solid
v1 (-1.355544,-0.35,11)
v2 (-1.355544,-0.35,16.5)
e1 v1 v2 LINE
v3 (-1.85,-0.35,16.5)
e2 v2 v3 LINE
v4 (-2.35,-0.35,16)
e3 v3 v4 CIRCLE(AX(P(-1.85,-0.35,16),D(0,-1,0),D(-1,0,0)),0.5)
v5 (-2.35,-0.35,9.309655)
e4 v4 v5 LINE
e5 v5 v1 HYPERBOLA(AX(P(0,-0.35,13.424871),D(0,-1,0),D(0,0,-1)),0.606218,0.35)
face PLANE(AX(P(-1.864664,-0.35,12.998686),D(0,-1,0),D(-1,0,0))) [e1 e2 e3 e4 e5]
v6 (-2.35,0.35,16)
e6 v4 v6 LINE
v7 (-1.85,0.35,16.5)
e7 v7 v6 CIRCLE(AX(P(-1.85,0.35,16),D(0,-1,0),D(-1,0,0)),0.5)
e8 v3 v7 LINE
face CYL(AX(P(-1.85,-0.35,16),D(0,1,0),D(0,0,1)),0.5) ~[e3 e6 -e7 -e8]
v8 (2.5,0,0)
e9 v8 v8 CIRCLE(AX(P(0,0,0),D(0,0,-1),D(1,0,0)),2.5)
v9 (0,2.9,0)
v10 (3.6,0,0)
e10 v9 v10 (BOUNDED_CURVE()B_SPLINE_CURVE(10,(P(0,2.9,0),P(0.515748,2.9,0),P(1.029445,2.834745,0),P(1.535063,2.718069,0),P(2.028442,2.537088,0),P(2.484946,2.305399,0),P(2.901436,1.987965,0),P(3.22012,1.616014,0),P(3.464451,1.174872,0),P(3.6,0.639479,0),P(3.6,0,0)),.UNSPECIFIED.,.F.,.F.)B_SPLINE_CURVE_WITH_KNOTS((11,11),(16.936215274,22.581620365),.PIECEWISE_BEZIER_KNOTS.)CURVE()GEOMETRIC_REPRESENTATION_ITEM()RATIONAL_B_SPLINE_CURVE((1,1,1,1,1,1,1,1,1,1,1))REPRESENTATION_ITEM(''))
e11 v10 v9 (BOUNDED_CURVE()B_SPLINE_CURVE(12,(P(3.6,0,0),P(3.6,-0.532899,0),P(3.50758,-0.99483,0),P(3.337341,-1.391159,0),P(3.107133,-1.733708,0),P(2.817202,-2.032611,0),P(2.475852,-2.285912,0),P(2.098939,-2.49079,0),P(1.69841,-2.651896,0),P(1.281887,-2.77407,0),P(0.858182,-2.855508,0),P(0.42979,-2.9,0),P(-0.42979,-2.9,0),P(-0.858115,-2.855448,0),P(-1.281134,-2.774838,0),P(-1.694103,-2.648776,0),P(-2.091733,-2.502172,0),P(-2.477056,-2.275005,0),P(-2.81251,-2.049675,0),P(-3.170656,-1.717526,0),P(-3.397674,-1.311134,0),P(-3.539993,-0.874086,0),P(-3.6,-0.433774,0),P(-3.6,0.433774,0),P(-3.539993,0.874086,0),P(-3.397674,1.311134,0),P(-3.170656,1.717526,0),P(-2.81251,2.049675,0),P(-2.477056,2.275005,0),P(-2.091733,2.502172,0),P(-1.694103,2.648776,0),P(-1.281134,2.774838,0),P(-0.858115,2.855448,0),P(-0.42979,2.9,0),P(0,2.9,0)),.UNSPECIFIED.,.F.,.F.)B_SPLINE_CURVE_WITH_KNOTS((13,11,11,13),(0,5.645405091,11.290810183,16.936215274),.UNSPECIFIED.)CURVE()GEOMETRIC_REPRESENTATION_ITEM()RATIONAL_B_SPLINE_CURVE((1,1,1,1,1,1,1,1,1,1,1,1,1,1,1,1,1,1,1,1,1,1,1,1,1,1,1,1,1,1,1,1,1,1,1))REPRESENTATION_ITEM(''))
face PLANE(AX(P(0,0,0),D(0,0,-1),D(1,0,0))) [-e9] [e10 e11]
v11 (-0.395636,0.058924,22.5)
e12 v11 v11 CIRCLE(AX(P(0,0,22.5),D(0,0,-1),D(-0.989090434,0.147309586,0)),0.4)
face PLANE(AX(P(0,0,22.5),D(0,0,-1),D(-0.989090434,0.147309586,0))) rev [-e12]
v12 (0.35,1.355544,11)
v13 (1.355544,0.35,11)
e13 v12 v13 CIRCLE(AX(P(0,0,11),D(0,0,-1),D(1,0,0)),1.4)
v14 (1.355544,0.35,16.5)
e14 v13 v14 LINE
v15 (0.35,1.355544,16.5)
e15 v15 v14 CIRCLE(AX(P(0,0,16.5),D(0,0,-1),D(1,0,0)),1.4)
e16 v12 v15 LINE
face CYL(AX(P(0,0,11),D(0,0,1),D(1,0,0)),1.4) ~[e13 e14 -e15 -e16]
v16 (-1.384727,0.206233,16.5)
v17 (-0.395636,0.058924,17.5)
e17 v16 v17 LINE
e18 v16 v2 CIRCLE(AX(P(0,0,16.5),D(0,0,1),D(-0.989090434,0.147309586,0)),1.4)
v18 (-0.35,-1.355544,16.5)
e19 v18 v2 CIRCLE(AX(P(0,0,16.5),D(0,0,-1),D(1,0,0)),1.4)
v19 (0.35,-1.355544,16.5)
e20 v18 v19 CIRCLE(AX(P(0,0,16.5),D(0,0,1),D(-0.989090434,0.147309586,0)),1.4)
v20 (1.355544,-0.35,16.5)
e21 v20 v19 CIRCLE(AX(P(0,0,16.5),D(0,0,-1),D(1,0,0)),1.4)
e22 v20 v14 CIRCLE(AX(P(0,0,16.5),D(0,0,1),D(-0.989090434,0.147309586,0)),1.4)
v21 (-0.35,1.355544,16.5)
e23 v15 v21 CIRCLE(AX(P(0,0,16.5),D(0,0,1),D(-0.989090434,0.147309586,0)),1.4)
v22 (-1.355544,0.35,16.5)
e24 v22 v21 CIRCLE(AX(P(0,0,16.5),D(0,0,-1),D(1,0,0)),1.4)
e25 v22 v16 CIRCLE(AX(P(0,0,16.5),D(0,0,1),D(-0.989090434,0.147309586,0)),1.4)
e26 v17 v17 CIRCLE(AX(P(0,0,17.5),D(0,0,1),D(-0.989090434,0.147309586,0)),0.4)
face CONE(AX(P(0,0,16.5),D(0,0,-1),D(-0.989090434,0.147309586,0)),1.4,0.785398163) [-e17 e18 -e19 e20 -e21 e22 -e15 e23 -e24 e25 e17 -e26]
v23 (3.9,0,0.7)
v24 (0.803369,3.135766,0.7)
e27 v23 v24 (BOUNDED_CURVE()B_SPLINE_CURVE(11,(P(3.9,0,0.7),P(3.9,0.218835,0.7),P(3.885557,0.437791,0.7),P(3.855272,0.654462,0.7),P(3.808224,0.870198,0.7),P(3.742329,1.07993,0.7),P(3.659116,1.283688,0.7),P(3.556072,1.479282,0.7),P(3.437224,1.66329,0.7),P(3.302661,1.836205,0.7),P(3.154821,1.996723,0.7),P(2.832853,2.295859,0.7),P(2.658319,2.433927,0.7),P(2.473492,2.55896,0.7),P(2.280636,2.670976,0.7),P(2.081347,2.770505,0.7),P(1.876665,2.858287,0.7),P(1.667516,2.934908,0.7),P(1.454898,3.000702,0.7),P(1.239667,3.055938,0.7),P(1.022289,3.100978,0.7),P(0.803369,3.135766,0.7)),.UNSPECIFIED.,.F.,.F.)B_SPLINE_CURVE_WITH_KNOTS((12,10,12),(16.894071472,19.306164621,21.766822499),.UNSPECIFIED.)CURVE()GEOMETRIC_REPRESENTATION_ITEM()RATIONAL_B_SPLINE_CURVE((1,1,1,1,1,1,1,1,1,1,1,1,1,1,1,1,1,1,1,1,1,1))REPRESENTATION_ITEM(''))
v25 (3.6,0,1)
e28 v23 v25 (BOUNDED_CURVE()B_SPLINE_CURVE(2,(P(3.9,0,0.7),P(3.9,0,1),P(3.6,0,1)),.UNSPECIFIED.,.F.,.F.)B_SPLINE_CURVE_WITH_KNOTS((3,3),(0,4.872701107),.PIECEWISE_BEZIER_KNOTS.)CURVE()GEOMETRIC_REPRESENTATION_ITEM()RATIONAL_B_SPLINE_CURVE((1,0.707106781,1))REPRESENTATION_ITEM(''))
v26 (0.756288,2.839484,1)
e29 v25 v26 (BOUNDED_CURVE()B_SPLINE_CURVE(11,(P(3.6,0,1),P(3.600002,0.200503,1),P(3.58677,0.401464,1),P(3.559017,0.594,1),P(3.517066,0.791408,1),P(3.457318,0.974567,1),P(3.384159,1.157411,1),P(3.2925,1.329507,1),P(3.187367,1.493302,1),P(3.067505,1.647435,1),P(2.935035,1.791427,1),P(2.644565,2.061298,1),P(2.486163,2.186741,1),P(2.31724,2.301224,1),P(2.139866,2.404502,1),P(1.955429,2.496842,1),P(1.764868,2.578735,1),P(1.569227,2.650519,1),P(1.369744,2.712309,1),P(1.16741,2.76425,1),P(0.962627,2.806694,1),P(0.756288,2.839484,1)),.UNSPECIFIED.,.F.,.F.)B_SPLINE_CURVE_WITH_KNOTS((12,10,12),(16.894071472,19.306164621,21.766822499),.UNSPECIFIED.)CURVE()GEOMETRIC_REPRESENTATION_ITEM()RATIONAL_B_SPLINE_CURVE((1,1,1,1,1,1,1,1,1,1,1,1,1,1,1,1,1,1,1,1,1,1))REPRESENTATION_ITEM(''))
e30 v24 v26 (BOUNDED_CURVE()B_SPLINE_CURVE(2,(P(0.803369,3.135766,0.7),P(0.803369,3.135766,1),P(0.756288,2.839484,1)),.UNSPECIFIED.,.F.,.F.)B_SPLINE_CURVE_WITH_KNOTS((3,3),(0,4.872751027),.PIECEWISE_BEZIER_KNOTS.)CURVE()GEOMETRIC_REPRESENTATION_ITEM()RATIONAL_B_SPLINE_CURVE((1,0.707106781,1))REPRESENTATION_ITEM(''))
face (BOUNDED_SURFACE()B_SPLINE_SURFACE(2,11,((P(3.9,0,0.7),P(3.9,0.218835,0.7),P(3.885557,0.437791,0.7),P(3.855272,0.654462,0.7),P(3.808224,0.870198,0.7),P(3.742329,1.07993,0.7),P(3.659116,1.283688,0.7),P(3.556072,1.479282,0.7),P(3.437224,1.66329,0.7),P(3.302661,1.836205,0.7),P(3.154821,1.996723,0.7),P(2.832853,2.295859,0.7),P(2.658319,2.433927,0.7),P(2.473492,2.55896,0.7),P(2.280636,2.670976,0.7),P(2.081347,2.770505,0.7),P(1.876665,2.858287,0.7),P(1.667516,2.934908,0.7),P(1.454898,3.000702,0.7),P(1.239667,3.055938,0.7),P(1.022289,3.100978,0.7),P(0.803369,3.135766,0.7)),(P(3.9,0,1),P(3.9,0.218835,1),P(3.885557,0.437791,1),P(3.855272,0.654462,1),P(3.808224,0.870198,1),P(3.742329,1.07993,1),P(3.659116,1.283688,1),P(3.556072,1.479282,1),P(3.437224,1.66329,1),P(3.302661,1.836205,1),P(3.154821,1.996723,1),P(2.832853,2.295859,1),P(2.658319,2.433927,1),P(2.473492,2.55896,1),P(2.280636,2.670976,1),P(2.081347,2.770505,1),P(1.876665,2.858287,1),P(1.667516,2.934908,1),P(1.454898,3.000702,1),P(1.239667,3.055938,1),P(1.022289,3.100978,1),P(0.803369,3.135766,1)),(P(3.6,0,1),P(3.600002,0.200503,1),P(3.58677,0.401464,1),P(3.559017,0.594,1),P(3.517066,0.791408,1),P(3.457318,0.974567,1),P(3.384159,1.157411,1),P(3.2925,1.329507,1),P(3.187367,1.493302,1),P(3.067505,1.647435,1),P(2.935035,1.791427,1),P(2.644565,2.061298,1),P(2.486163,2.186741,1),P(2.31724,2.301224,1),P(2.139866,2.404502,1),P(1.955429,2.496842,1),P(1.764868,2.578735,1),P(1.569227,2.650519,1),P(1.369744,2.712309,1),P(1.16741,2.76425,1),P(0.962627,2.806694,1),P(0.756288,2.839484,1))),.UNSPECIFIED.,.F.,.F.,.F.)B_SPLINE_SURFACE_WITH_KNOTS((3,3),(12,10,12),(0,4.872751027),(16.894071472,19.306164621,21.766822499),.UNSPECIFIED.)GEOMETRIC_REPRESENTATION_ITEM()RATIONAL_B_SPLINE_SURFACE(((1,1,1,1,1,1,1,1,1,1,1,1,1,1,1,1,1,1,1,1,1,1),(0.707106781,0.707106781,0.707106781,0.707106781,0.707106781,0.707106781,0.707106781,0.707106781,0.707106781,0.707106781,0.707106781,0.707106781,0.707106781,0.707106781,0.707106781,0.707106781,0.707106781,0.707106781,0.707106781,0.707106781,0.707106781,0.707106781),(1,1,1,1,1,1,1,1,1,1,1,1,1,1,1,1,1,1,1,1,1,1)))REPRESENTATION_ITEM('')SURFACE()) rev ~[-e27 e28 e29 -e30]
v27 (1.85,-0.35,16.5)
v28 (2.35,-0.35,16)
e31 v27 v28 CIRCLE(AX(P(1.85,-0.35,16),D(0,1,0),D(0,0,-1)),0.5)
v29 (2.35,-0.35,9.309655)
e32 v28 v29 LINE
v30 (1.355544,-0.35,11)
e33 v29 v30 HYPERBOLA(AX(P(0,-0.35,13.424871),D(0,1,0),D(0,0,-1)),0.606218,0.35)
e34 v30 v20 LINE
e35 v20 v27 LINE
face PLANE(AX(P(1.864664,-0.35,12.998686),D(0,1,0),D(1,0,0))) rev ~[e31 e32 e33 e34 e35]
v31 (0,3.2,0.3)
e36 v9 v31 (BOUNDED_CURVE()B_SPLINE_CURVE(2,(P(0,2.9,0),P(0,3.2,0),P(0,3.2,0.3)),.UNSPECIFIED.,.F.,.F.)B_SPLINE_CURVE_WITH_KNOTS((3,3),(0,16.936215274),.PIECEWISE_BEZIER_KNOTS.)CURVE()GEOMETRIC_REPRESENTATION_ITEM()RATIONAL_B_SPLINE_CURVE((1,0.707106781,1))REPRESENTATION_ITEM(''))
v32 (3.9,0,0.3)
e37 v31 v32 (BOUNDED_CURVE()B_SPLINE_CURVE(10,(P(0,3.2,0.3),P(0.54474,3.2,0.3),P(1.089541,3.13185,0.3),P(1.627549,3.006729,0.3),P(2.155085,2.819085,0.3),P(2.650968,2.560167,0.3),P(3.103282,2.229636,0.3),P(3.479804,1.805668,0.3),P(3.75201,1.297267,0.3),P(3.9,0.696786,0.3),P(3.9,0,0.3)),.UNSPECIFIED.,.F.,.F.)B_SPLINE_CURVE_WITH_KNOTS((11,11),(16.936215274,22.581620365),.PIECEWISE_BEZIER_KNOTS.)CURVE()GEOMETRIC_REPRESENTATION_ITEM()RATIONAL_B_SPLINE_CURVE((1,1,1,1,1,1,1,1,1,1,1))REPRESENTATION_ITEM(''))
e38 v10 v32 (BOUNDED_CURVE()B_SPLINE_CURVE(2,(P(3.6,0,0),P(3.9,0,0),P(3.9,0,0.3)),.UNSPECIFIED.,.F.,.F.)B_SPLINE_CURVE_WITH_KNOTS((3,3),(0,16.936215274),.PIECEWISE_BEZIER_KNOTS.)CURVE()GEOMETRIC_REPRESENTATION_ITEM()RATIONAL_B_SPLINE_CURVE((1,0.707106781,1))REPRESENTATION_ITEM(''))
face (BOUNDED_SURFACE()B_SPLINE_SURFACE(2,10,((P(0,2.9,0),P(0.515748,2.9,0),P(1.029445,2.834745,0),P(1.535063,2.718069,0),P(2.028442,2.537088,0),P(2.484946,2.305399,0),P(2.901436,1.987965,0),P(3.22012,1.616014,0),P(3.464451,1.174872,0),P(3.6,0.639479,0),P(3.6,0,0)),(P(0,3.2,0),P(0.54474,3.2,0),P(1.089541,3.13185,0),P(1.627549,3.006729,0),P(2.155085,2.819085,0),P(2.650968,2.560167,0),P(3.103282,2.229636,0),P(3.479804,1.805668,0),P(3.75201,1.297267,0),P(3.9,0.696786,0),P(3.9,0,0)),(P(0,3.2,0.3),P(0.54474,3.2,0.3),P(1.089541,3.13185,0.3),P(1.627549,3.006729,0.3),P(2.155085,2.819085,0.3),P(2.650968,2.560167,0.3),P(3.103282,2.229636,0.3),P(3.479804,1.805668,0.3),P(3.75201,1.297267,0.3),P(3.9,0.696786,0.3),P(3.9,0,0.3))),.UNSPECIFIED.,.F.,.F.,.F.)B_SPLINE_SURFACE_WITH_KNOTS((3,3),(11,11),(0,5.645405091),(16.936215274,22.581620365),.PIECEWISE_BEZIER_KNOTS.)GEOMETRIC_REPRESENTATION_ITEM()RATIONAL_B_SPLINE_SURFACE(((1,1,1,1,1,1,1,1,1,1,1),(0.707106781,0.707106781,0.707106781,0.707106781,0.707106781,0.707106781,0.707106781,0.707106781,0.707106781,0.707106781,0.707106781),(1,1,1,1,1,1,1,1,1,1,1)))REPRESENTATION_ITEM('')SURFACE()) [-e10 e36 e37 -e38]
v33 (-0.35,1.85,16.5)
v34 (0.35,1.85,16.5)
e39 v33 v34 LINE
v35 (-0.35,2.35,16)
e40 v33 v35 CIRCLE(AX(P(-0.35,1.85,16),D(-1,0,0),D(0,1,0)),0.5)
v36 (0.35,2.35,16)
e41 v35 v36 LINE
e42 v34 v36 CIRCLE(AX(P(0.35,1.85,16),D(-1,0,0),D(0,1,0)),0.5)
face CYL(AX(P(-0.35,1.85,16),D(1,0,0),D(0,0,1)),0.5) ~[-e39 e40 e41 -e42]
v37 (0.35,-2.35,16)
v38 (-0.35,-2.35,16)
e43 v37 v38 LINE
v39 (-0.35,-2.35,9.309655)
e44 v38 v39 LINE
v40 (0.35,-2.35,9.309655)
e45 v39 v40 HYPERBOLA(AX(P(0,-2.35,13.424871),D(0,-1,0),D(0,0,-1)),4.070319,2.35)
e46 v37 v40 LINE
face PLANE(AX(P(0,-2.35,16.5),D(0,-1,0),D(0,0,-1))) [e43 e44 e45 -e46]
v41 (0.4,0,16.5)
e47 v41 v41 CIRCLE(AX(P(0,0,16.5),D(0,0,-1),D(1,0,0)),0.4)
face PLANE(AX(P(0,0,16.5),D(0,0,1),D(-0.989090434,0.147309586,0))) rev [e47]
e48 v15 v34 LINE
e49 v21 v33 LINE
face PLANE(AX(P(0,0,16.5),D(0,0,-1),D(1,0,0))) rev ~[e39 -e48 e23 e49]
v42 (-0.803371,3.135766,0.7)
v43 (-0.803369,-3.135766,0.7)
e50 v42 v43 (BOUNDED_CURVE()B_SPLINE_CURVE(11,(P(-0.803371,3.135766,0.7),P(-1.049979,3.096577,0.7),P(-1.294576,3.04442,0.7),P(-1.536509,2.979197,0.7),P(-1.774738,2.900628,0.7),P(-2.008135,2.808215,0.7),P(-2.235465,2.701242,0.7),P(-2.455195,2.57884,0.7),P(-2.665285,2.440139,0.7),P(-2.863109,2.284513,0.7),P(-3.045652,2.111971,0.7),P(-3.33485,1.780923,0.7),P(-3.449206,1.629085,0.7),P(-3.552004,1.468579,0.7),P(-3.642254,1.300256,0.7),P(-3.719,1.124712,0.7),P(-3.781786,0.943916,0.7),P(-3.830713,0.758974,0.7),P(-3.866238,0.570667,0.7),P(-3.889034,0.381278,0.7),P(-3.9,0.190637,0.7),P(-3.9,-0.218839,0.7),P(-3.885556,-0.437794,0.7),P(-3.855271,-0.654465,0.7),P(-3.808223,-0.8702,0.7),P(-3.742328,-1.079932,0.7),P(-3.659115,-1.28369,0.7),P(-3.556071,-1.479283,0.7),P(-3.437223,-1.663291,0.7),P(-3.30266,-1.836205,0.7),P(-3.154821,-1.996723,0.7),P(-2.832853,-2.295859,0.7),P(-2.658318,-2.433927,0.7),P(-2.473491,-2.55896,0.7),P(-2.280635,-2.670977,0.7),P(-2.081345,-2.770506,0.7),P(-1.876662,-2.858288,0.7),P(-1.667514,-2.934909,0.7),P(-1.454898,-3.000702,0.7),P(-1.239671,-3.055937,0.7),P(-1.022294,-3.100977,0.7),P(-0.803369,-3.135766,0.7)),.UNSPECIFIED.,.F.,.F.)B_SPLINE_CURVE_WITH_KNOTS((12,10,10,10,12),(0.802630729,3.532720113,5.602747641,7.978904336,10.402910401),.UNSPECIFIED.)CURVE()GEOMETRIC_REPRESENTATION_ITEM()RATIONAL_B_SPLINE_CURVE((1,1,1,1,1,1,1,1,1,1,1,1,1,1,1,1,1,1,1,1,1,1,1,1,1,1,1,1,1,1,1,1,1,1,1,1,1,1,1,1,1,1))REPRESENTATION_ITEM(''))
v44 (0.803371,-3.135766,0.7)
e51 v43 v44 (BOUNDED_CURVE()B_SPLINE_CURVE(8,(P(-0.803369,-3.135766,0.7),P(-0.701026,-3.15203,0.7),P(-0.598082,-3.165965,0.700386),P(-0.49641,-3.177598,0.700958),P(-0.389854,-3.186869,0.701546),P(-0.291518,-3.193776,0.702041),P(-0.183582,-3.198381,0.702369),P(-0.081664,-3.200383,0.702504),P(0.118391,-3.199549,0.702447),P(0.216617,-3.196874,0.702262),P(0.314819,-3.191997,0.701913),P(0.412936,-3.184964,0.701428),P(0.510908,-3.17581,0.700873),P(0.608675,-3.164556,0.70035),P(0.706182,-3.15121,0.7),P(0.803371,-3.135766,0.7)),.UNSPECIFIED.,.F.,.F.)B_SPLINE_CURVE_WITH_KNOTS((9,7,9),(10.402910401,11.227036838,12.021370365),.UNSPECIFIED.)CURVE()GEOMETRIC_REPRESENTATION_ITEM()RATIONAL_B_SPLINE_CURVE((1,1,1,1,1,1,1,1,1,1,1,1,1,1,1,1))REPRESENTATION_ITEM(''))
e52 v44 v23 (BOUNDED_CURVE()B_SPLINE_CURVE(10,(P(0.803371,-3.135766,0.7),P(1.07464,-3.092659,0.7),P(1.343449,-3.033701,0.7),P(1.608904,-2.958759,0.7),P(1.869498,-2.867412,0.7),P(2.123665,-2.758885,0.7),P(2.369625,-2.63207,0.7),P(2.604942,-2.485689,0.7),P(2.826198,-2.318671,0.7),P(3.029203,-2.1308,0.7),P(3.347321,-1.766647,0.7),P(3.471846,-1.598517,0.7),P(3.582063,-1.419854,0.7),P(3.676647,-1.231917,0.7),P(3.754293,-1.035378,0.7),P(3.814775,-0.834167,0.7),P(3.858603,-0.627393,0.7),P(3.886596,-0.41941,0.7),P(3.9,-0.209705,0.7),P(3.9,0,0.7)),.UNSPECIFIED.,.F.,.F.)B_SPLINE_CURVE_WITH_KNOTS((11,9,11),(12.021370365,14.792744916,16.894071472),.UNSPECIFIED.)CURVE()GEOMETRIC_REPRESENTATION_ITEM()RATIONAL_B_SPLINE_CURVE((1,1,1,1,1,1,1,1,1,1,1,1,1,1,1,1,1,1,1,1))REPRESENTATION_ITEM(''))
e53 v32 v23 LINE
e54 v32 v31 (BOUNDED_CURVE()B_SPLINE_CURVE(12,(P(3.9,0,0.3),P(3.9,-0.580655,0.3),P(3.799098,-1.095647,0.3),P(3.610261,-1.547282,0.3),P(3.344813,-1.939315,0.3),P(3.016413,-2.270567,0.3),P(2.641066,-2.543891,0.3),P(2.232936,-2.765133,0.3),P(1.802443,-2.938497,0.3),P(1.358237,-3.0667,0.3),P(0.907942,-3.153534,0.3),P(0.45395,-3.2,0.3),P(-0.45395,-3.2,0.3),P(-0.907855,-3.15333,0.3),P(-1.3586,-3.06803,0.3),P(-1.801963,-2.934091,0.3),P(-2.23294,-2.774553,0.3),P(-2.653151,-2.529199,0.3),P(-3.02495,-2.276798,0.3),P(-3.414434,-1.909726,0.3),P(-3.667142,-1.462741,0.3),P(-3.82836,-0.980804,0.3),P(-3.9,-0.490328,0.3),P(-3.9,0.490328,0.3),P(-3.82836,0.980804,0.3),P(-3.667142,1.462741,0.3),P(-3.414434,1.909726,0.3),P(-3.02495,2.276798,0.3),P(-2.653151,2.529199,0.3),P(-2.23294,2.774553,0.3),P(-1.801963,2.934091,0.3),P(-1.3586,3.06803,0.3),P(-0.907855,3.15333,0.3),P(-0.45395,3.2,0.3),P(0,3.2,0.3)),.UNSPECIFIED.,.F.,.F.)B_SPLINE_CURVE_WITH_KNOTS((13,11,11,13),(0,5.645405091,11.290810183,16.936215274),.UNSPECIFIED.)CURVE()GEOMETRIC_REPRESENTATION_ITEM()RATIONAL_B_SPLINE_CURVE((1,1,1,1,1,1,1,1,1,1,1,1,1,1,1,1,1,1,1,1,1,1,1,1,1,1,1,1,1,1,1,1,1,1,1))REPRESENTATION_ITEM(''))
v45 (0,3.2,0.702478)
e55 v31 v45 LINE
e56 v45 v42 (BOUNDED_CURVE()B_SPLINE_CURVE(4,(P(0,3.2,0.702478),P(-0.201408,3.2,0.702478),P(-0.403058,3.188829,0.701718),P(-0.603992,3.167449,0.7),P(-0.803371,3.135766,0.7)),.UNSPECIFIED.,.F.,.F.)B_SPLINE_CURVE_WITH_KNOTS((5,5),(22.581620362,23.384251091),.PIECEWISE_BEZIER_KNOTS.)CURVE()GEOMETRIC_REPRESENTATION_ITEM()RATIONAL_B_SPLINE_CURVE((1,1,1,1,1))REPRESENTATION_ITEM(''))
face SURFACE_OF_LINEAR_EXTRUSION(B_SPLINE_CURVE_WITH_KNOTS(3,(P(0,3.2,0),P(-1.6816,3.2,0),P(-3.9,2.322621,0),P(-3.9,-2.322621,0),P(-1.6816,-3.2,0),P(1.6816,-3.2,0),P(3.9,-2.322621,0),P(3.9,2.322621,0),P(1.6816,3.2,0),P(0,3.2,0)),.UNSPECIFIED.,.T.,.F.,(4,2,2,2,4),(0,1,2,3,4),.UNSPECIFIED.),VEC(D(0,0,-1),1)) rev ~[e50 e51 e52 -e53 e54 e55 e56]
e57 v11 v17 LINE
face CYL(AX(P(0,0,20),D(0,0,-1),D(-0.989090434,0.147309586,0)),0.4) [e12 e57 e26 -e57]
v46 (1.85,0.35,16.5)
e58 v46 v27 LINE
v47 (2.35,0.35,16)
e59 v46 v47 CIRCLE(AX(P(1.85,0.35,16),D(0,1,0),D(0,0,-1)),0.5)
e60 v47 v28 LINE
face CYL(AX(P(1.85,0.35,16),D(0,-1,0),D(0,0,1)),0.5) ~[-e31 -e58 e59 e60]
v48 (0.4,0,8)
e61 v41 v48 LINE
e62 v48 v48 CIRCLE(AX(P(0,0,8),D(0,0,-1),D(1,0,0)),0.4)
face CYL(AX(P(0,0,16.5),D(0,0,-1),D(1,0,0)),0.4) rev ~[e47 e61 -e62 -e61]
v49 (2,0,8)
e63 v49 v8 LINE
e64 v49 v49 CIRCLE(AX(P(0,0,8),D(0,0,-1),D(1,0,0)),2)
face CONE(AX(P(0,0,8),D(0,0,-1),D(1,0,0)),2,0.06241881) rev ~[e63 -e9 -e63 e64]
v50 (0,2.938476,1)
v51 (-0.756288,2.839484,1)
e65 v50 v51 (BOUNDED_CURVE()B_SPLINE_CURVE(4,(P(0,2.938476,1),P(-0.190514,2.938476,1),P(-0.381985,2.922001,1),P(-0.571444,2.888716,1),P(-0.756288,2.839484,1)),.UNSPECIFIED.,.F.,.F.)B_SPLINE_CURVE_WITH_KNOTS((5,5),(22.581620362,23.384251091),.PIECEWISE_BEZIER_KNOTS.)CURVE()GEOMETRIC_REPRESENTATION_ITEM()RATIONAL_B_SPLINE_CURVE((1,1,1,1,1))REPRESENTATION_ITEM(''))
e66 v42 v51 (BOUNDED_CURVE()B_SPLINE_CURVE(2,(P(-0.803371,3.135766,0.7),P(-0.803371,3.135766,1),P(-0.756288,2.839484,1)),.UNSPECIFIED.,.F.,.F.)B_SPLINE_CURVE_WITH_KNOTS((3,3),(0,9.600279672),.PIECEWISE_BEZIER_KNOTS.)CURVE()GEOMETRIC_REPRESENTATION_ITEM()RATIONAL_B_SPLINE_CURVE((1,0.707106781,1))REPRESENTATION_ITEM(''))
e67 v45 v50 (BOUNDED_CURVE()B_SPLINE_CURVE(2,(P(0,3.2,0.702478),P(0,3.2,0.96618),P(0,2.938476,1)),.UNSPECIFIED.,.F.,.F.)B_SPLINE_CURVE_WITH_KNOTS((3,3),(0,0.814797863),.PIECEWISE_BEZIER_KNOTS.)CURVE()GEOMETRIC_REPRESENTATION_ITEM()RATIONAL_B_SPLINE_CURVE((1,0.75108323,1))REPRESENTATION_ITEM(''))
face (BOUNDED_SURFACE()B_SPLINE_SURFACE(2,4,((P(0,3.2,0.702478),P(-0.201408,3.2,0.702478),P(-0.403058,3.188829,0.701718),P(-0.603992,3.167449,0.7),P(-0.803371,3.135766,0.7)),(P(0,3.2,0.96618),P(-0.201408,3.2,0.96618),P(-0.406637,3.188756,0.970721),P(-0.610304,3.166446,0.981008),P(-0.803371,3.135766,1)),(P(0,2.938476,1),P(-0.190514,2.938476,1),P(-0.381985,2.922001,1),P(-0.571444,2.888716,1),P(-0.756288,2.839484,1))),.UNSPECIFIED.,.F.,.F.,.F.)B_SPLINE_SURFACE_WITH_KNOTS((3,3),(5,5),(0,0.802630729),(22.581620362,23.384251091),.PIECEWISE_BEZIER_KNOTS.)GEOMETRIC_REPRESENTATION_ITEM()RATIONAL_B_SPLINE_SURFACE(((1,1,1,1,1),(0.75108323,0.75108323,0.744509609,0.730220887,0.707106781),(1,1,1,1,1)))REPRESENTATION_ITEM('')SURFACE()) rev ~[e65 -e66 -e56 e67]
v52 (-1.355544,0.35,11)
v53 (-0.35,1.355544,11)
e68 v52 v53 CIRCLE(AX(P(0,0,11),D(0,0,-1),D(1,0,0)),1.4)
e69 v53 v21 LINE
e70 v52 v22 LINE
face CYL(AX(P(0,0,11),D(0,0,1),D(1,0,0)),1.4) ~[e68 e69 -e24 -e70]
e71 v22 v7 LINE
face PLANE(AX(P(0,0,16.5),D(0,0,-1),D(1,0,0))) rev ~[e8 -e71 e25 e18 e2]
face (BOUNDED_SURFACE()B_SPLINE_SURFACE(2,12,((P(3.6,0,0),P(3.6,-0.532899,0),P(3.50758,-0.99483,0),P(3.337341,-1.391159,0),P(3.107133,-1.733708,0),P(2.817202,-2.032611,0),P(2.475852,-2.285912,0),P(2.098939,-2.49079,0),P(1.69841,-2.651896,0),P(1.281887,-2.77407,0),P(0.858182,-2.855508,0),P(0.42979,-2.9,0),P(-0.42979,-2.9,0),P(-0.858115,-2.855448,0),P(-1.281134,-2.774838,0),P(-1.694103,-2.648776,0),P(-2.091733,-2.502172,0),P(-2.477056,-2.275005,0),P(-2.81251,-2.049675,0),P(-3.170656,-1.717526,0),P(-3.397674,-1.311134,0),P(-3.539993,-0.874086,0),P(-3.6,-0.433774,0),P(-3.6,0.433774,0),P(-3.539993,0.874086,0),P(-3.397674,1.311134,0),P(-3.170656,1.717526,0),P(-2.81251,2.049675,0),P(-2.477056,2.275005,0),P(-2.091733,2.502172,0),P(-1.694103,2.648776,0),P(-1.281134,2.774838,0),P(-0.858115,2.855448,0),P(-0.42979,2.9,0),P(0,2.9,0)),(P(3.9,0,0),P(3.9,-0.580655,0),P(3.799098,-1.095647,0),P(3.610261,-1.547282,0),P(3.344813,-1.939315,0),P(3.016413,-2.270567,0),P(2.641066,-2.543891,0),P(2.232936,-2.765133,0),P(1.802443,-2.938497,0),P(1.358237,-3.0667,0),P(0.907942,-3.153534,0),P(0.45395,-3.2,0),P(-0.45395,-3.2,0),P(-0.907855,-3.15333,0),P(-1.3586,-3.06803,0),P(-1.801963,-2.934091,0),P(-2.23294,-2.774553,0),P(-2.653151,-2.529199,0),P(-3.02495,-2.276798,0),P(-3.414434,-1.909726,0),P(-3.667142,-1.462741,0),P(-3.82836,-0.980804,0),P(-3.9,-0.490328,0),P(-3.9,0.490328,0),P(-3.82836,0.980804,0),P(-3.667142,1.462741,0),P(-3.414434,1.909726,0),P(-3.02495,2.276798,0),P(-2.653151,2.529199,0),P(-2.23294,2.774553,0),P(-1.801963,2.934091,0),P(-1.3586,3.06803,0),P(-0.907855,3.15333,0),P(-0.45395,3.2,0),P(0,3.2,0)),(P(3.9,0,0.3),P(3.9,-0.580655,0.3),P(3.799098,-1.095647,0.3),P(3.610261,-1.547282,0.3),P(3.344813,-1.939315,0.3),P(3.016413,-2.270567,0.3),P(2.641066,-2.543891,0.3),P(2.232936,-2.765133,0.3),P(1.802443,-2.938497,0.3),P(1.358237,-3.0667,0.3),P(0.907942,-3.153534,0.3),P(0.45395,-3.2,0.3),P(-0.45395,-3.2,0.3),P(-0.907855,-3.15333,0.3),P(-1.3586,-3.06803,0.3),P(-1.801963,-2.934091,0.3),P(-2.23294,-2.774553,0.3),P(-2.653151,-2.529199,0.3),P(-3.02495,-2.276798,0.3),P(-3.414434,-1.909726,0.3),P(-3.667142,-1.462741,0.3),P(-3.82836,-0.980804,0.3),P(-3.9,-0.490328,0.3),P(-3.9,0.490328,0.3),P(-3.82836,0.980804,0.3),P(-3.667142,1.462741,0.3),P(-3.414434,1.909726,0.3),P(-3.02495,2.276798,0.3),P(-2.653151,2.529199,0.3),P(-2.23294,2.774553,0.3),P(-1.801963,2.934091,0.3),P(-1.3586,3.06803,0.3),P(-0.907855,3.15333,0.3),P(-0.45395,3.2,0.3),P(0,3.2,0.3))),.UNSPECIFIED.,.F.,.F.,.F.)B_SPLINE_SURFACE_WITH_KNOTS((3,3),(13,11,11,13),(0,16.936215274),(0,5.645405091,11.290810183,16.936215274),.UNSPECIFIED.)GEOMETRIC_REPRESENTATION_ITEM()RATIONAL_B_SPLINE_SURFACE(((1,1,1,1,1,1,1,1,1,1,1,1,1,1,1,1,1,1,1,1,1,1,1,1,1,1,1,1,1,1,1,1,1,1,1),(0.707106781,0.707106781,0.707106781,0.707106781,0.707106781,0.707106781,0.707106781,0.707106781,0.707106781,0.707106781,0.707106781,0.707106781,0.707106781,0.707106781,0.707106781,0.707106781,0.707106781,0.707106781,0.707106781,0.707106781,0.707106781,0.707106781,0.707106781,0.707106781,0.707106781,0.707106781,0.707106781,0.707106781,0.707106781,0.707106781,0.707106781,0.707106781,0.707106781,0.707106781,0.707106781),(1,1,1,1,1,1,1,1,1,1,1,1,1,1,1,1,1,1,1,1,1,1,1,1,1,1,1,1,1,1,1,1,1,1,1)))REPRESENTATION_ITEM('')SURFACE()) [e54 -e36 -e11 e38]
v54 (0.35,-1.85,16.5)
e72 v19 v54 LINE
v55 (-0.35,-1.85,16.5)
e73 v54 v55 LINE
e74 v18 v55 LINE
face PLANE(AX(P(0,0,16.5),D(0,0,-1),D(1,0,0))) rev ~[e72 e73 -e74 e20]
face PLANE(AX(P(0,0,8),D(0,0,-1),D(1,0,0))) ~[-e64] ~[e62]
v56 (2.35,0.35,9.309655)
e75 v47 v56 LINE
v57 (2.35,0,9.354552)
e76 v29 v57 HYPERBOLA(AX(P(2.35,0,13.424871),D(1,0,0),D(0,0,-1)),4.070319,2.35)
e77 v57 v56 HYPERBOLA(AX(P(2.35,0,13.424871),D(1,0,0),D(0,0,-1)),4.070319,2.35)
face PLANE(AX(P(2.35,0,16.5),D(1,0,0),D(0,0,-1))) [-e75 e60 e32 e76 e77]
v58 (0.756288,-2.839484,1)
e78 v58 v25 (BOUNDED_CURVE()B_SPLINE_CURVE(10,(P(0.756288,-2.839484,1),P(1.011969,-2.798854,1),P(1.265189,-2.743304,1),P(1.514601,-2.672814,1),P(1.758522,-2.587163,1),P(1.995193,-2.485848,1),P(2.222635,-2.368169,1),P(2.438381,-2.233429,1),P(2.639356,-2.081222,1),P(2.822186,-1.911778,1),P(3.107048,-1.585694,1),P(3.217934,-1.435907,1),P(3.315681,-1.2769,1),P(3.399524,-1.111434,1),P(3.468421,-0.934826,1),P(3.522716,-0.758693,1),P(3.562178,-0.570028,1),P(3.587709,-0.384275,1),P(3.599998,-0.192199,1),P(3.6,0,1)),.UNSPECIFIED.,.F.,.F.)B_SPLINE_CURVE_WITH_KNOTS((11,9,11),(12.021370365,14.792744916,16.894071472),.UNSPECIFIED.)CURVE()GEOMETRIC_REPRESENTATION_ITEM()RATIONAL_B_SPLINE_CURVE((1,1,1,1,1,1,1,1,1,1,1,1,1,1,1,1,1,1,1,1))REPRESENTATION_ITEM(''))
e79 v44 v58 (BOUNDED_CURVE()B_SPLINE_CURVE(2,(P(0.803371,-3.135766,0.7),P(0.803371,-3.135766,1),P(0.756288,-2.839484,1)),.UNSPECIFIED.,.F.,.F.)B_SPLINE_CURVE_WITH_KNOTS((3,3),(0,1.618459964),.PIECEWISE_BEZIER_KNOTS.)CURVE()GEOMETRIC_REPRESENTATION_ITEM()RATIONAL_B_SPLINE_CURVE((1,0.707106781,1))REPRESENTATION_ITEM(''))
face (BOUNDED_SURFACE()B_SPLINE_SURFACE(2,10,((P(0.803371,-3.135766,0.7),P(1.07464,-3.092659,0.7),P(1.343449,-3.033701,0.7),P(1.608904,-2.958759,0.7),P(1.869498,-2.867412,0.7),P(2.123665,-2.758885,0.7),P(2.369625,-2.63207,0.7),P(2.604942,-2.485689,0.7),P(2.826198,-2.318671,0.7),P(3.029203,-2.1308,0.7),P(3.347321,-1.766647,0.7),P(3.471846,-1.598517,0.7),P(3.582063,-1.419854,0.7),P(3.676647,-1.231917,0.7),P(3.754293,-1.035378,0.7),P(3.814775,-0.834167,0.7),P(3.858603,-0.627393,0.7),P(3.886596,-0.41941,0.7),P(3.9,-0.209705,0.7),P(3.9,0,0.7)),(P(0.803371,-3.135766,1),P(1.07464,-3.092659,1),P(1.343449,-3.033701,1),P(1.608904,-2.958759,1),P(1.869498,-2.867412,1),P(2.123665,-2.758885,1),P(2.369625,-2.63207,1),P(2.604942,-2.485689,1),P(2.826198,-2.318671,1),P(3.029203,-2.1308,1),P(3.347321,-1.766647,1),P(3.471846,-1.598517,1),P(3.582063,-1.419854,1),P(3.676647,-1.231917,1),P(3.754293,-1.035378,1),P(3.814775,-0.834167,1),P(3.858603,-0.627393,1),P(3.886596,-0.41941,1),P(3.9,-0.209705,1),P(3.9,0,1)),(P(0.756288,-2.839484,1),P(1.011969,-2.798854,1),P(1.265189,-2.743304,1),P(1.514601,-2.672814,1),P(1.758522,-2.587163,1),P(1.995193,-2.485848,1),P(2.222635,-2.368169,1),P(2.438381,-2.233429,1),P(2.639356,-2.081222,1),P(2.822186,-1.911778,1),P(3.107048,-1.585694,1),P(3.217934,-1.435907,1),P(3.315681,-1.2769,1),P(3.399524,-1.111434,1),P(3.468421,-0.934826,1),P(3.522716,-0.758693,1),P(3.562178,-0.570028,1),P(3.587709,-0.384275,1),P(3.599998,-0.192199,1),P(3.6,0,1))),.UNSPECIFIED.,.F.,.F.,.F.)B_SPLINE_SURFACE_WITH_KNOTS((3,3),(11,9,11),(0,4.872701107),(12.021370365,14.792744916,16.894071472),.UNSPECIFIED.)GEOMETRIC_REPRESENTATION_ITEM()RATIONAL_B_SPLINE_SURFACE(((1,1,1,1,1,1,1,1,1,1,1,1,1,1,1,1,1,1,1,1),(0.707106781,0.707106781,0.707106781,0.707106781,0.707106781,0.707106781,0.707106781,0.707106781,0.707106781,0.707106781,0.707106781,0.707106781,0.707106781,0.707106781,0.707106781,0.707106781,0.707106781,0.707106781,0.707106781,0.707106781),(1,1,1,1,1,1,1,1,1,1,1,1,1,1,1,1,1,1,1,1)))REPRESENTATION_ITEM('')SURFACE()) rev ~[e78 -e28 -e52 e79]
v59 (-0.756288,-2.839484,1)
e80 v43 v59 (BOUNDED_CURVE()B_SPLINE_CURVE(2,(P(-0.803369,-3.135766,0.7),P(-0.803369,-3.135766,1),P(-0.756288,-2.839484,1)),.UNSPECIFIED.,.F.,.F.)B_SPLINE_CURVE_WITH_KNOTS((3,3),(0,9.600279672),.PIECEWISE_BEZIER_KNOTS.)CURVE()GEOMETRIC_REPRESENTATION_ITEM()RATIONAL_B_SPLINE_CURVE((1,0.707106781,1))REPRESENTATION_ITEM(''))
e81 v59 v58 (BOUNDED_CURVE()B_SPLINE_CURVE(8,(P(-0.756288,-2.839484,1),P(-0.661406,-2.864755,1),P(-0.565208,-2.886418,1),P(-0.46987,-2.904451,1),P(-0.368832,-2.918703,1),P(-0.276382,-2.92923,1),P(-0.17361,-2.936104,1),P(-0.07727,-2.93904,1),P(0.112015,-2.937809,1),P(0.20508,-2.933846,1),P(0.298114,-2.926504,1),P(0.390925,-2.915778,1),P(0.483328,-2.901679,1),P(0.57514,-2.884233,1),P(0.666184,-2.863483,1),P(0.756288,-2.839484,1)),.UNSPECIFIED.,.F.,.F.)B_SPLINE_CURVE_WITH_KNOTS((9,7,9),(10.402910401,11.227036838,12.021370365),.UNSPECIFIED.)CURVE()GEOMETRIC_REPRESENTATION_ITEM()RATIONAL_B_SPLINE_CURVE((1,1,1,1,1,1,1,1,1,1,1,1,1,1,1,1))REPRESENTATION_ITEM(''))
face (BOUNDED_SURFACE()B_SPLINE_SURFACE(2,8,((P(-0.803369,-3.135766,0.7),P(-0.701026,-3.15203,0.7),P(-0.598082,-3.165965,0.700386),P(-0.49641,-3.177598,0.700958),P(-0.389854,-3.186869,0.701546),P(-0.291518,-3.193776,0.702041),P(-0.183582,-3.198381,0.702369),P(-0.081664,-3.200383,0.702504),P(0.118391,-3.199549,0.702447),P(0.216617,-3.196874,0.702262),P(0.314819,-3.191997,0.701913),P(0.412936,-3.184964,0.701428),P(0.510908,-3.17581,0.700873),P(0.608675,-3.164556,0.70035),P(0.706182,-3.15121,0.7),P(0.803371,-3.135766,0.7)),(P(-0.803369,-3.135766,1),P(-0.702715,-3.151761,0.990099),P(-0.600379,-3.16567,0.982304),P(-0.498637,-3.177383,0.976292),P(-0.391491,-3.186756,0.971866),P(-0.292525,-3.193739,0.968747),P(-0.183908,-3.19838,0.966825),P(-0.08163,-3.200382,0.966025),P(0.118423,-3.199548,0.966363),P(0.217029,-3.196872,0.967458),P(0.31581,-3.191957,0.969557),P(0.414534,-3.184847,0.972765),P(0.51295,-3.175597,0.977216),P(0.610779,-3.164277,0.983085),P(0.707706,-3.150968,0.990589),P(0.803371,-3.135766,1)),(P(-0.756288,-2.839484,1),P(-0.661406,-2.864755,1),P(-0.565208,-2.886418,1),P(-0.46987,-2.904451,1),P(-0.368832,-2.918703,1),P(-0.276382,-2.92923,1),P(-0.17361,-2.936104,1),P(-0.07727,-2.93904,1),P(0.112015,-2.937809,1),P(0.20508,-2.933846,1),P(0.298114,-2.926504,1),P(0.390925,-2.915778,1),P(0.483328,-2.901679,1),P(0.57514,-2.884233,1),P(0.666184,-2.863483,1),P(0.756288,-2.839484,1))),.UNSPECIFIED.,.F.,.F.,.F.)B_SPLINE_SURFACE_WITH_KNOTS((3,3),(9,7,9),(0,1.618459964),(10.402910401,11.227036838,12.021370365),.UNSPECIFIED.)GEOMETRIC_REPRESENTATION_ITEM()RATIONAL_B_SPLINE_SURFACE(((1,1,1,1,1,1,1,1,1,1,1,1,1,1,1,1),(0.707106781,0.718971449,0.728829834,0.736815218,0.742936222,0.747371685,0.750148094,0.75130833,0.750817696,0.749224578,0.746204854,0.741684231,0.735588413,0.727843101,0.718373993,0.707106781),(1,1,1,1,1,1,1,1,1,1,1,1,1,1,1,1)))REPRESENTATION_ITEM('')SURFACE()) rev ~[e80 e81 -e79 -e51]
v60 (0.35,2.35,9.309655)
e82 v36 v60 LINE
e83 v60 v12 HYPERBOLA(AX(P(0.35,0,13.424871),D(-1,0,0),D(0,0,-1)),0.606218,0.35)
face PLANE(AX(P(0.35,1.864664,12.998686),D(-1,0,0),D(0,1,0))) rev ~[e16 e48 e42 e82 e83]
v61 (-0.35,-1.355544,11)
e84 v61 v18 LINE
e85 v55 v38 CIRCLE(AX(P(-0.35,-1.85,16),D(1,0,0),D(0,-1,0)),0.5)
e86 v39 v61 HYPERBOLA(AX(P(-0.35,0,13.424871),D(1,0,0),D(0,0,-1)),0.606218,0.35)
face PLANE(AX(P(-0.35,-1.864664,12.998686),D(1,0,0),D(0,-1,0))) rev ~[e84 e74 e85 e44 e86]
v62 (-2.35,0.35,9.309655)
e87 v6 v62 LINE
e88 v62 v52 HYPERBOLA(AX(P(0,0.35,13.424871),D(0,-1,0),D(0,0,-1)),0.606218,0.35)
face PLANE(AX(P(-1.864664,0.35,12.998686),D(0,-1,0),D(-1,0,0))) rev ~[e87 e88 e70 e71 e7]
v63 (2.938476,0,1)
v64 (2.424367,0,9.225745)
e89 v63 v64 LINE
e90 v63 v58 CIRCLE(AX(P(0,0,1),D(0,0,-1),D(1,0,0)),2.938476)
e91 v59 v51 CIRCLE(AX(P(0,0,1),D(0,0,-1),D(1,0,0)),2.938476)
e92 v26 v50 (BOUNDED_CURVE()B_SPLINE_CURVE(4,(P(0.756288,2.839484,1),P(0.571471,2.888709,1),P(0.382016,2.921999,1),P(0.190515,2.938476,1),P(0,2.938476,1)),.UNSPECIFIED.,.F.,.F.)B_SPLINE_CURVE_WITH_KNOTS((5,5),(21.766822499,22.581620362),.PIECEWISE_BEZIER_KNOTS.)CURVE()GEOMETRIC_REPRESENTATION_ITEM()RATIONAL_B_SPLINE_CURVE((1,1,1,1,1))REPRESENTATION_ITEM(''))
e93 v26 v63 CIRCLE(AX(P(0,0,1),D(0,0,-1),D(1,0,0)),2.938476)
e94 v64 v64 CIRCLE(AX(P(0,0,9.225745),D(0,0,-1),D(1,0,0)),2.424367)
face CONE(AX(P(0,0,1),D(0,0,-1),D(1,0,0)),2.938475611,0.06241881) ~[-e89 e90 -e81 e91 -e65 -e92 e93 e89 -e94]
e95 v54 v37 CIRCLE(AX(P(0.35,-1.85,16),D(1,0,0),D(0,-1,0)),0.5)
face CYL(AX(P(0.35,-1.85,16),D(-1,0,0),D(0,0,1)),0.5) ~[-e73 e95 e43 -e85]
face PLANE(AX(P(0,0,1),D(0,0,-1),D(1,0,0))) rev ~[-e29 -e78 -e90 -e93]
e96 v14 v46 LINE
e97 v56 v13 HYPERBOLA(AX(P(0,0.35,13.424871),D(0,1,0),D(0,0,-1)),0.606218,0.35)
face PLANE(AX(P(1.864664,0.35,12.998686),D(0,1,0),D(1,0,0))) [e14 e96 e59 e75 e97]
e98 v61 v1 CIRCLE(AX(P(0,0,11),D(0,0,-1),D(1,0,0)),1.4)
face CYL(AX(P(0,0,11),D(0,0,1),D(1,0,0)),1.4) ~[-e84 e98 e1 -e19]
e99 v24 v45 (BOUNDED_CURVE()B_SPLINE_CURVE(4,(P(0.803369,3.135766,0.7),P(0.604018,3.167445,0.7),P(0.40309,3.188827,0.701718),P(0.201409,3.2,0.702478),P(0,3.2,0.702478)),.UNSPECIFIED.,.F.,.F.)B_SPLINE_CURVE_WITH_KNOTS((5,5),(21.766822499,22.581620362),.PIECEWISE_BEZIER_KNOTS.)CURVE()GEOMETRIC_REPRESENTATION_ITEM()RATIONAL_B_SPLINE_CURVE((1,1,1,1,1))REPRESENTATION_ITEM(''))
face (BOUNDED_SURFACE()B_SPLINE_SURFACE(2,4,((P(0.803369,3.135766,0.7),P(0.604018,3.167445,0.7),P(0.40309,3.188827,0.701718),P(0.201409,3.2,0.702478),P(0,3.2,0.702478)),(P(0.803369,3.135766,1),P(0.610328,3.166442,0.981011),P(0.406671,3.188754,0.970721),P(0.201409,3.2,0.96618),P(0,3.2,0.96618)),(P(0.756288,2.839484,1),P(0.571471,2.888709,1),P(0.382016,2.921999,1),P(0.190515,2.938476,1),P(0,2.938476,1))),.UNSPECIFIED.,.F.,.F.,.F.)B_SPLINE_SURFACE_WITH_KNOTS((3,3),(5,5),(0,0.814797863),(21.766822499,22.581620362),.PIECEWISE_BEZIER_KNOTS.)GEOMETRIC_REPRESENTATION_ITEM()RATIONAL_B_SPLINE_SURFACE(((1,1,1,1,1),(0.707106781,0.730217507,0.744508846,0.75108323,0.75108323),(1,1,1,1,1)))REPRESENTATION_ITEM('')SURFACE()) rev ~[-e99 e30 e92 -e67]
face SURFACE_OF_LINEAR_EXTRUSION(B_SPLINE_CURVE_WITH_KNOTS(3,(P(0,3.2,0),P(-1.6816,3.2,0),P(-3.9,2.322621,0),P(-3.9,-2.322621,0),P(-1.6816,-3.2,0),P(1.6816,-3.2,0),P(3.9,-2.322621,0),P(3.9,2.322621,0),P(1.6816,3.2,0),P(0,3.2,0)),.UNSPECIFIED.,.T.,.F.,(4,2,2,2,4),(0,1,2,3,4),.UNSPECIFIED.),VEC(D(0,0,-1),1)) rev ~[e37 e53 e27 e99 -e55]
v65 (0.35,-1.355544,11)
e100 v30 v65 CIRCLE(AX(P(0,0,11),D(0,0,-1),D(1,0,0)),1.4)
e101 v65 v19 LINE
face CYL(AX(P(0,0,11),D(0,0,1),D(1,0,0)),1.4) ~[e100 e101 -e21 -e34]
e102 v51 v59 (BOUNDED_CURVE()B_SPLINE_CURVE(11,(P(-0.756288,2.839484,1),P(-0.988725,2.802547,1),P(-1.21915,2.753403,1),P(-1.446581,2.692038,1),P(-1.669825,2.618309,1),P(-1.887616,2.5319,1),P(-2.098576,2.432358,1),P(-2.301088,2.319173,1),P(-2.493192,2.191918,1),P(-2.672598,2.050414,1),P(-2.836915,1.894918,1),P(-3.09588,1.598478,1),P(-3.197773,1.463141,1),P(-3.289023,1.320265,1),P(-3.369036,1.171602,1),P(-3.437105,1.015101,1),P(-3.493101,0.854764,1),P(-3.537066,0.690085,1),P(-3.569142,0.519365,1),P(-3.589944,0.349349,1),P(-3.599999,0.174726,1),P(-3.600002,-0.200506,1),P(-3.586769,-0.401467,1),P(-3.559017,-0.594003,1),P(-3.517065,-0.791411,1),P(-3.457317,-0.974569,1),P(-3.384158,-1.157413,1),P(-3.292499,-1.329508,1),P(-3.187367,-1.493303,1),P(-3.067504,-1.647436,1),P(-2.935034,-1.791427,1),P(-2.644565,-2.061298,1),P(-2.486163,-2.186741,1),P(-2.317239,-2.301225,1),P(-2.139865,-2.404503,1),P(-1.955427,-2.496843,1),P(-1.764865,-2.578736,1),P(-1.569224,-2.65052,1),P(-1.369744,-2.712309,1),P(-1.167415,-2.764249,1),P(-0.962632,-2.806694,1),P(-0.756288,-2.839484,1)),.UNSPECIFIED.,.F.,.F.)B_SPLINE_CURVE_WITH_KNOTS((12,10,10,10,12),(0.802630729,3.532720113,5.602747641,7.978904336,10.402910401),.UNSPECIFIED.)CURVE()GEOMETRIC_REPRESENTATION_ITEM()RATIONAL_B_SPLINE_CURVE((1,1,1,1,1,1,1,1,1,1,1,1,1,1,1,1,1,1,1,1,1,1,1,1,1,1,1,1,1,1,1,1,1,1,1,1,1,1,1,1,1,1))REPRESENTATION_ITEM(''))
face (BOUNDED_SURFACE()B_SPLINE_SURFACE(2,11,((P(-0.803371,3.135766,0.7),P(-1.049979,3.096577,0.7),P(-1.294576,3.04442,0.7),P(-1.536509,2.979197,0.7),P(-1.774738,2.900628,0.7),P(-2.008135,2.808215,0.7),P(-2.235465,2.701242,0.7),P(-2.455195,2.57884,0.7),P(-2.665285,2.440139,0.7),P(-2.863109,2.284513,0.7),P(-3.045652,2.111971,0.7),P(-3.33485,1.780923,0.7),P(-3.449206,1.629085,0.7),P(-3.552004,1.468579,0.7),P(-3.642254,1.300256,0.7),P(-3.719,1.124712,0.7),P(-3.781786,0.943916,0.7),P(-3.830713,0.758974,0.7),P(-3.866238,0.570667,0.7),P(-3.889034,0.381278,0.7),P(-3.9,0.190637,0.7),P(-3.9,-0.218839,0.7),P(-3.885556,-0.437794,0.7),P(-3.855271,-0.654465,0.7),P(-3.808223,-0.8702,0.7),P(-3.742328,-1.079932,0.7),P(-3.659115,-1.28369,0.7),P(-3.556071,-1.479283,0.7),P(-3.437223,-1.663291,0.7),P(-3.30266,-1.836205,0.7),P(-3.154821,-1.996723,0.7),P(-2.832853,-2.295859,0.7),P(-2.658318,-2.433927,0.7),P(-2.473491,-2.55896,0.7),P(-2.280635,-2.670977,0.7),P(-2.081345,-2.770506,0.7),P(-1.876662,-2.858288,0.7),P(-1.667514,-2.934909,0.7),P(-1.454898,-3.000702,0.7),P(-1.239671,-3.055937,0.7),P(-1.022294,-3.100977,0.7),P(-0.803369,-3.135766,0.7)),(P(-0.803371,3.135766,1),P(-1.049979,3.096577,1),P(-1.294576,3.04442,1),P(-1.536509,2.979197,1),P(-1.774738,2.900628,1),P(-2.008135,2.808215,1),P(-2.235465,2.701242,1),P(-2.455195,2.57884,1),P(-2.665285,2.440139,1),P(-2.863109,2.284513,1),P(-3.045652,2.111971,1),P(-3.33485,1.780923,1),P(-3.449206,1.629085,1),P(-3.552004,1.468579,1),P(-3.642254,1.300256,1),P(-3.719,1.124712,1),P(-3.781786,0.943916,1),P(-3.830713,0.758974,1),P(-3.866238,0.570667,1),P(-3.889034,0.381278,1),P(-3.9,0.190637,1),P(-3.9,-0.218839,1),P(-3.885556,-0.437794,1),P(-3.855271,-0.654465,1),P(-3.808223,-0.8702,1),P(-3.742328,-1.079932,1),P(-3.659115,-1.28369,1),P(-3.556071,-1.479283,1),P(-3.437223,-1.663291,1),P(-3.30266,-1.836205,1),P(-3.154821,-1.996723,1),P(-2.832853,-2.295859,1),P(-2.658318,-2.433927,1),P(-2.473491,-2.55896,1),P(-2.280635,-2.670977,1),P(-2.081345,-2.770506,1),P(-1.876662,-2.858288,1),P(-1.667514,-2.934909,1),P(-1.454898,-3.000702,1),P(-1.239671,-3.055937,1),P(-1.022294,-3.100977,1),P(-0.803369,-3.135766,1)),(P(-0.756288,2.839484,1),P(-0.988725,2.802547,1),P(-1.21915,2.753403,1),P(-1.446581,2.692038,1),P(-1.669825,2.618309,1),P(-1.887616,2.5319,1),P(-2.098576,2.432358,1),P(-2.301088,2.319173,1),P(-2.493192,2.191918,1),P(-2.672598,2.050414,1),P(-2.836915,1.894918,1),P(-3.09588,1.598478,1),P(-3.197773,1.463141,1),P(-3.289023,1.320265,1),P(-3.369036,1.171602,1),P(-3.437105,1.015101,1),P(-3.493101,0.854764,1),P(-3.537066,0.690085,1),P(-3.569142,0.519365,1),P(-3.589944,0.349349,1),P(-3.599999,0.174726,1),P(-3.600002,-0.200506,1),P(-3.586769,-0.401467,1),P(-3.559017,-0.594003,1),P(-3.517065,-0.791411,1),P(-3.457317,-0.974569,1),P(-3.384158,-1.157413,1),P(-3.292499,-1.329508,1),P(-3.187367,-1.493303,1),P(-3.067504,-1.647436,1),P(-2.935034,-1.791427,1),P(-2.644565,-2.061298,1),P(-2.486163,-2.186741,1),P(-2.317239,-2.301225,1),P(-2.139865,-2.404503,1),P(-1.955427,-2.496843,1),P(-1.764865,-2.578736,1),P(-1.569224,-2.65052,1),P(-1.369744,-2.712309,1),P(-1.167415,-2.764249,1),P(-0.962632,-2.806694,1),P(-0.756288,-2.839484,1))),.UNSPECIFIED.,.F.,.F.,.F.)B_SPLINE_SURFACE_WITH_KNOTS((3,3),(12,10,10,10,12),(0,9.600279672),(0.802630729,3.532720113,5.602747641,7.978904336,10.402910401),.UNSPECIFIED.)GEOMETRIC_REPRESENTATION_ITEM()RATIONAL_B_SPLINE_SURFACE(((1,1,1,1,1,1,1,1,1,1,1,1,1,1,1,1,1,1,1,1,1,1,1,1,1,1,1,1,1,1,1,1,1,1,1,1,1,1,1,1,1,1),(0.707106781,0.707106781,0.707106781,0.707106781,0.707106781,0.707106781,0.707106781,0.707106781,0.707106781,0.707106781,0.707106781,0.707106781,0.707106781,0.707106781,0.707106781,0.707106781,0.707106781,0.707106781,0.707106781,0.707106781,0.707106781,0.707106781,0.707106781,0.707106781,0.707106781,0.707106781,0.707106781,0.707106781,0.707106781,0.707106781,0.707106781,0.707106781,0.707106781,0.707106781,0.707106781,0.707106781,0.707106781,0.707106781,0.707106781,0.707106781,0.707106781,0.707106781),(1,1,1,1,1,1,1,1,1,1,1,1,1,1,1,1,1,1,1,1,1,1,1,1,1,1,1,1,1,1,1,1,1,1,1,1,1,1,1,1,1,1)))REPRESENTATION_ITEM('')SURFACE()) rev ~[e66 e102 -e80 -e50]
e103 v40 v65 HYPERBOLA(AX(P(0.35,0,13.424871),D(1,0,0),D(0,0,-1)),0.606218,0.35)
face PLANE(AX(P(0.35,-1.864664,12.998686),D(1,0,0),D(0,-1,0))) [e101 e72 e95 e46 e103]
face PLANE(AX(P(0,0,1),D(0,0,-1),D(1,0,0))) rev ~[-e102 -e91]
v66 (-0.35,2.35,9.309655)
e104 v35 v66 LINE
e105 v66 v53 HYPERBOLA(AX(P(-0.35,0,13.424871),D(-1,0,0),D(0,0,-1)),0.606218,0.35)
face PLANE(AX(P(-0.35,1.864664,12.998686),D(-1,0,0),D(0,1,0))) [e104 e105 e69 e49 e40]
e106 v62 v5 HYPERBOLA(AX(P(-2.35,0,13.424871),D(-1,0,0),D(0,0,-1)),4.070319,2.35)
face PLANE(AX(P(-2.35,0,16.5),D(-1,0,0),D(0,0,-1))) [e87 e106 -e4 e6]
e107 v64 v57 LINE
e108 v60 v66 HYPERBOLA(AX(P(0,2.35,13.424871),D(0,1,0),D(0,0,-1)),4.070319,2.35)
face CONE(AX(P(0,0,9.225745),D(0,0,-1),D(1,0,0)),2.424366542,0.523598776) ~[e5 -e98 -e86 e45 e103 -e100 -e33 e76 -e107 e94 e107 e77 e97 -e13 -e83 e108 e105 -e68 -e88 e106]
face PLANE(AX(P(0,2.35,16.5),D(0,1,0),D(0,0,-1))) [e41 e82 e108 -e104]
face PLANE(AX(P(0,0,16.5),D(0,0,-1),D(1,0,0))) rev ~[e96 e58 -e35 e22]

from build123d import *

# Parameters (mm, degrees)
BOSS_EXTRUDE1_DEPTH = 0.35
CIRPATTERN1_COUNT   = 4
SKETCH4_R           = 5.5
CUT_EXTRUDE2_DEPTH  = 18.397413601
FILLET1_R           = 0.3
SKETCH6_W           = 0.4
SKETCH6_H           = 5
FILLET2_R           = 0.5


with BuildPart() as part:
    # Sketch1 → Revolve1 (revolve)
    with BuildSketch(Plane(origin=(0, 0, 0), x_dir=(1, 0, 0), z_dir=(0, 1, 0))):
        Polygon((2.5, 0), (3, 0), (3.9, 0), (3.9, -1), (2.938475611, -1), (2.424366542, -9.225745104), (1.4, -11), (1.4, -16.5), (0.4, -16.5), (0.4, -8), (2, -8), align=None)
    revolve(axis=Axis((0, 0, 16.5), (0, 0, -1)))

    # Sketch2 → Boss-Extrude1 (add, symmetric)
    with BuildSketch(Plane(origin=(0, 0, 0), x_dir=(1, 0, 0), z_dir=(0, 1, 0))):
        Polygon((2.35, -9.094744112), (1.25, -11), (1.25, -16.5), (2.35, -16.5), align=None)
    boss_extrude1 = extrude(amount=BOSS_EXTRUDE1_DEPTH, both=True)

    # CirPattern1: Boss-Extrude1 ×4 about axis
    cirpattern1_axis = Axis((0, 0, 0), (0, 0, 1))
    for i in range(1, CIRPATTERN1_COUNT):
        add(boss_extrude1.rotate(cirpattern1_axis, i * 360 / CIRPATTERN1_COUNT))

    # Sketch4 → Cut-Extrude2 (cut, through all)
    with BuildSketch(Plane(origin=(0, 0, 0), x_dir=(-1, 0, 0), z_dir=(0, 0, -1))):
        Circle(SKETCH4_R)
        with BuildLine():
            add(Edge.make_bspline(
                [(0, 3.2), (-1.681599767, 3.2), (-3.9, 2.322621385), (-3.9, 0)],
                knots=[0, 0, 0, 0, 1, 1, 1, 1], degree=3))
            add(Edge.make_bspline(
                [(0, -3.2), (-1.681599767, -3.2), (-3.9, -2.322621385), (-3.9, 0)],
                knots=[0, 0, 0, 0, 1, 1, 1, 1], degree=3))
            add(Edge.make_bspline(
                [(0, -3.2), (1.681599767, -3.2), (3.9, -2.322621385), (3.9, 0)],
                knots=[0, 0, 0, 0, 1, 1, 1, 1], degree=3))
            add(Edge.make_bspline(
                [(0, 3.2), (1.681599767, 3.2), (3.9, 2.322621385), (3.9, 0)],
                knots=[0, 0, 0, 0, 1, 1, 1, 1], degree=3))
        make_face(mode=Mode.SUBTRACT)
    extrude(amount=-CUT_EXTRUDE2_DEPTH, mode=Mode.SUBTRACT)

    # Fillet1
    fillet1_edges = [part.edges().sort_by_distance(p)[0] for p in [
        (2.666281983, -2.412027807, 0),
        (-2.666281983, -2.412027807, 0),
        (-2.666281983, 2.412027807, 0),
        (2.666281983, 2.412027807, 0),
        (2.666282105, -2.412027711, 1),
        (-2.666282105, -2.412027711, 1),
        (-2.666282105, 2.412027711, 1),
        (2.666282105, 2.412027711, 1),
    ]]
    fillet(fillet1_edges, radius=FILLET1_R)

    # Sketch5 → Revolve2 (revolve)
    with BuildSketch(Plane(origin=(0, 0, 0), x_dir=(1, 0, 0), z_dir=(0, 1, 0)), mode=Mode.PRIVATE) as revolve2_sk:
        Polygon((0, -16.5), (1.4, -16.5), (0.4, -17.5), (0, -17.5), align=None)
    revolve(revolve2_sk.sketch.rotate(Axis((0, 0, 0), (0, 0, 1)), 171.528954844), axis=Axis((0, 0, 0), (0, 0, 1)))

    # Sketch6 → Revolve3 (revolve)
    with BuildSketch(Plane(origin=(0, 0, 0), x_dir=(1, 0, 0), z_dir=(0, 1, 0)), mode=Mode.PRIVATE) as revolve3_sk:
        with Locations((0.2, -20)):
            Rectangle(SKETCH6_W, SKETCH6_H)
    revolve(revolve3_sk.sketch.rotate(Axis((0, 0, 22.5), (0, 0, -1)), 188.471045156), axis=Axis((0, 0, 22.5), (0, 0, -1)))

    # Fillet2
    fillet2_edges = [part.edges().sort_by_distance(p)[0] for p in [
        (2.35, 0, 16.5),
        (0, 2.35, 16.5),
        (-2.35, 0, 16.5),
        (0, -2.35, 16.5),
    ]]
    fillet(fillet2_edges, radius=FILLET2_R)


solid = part.part
